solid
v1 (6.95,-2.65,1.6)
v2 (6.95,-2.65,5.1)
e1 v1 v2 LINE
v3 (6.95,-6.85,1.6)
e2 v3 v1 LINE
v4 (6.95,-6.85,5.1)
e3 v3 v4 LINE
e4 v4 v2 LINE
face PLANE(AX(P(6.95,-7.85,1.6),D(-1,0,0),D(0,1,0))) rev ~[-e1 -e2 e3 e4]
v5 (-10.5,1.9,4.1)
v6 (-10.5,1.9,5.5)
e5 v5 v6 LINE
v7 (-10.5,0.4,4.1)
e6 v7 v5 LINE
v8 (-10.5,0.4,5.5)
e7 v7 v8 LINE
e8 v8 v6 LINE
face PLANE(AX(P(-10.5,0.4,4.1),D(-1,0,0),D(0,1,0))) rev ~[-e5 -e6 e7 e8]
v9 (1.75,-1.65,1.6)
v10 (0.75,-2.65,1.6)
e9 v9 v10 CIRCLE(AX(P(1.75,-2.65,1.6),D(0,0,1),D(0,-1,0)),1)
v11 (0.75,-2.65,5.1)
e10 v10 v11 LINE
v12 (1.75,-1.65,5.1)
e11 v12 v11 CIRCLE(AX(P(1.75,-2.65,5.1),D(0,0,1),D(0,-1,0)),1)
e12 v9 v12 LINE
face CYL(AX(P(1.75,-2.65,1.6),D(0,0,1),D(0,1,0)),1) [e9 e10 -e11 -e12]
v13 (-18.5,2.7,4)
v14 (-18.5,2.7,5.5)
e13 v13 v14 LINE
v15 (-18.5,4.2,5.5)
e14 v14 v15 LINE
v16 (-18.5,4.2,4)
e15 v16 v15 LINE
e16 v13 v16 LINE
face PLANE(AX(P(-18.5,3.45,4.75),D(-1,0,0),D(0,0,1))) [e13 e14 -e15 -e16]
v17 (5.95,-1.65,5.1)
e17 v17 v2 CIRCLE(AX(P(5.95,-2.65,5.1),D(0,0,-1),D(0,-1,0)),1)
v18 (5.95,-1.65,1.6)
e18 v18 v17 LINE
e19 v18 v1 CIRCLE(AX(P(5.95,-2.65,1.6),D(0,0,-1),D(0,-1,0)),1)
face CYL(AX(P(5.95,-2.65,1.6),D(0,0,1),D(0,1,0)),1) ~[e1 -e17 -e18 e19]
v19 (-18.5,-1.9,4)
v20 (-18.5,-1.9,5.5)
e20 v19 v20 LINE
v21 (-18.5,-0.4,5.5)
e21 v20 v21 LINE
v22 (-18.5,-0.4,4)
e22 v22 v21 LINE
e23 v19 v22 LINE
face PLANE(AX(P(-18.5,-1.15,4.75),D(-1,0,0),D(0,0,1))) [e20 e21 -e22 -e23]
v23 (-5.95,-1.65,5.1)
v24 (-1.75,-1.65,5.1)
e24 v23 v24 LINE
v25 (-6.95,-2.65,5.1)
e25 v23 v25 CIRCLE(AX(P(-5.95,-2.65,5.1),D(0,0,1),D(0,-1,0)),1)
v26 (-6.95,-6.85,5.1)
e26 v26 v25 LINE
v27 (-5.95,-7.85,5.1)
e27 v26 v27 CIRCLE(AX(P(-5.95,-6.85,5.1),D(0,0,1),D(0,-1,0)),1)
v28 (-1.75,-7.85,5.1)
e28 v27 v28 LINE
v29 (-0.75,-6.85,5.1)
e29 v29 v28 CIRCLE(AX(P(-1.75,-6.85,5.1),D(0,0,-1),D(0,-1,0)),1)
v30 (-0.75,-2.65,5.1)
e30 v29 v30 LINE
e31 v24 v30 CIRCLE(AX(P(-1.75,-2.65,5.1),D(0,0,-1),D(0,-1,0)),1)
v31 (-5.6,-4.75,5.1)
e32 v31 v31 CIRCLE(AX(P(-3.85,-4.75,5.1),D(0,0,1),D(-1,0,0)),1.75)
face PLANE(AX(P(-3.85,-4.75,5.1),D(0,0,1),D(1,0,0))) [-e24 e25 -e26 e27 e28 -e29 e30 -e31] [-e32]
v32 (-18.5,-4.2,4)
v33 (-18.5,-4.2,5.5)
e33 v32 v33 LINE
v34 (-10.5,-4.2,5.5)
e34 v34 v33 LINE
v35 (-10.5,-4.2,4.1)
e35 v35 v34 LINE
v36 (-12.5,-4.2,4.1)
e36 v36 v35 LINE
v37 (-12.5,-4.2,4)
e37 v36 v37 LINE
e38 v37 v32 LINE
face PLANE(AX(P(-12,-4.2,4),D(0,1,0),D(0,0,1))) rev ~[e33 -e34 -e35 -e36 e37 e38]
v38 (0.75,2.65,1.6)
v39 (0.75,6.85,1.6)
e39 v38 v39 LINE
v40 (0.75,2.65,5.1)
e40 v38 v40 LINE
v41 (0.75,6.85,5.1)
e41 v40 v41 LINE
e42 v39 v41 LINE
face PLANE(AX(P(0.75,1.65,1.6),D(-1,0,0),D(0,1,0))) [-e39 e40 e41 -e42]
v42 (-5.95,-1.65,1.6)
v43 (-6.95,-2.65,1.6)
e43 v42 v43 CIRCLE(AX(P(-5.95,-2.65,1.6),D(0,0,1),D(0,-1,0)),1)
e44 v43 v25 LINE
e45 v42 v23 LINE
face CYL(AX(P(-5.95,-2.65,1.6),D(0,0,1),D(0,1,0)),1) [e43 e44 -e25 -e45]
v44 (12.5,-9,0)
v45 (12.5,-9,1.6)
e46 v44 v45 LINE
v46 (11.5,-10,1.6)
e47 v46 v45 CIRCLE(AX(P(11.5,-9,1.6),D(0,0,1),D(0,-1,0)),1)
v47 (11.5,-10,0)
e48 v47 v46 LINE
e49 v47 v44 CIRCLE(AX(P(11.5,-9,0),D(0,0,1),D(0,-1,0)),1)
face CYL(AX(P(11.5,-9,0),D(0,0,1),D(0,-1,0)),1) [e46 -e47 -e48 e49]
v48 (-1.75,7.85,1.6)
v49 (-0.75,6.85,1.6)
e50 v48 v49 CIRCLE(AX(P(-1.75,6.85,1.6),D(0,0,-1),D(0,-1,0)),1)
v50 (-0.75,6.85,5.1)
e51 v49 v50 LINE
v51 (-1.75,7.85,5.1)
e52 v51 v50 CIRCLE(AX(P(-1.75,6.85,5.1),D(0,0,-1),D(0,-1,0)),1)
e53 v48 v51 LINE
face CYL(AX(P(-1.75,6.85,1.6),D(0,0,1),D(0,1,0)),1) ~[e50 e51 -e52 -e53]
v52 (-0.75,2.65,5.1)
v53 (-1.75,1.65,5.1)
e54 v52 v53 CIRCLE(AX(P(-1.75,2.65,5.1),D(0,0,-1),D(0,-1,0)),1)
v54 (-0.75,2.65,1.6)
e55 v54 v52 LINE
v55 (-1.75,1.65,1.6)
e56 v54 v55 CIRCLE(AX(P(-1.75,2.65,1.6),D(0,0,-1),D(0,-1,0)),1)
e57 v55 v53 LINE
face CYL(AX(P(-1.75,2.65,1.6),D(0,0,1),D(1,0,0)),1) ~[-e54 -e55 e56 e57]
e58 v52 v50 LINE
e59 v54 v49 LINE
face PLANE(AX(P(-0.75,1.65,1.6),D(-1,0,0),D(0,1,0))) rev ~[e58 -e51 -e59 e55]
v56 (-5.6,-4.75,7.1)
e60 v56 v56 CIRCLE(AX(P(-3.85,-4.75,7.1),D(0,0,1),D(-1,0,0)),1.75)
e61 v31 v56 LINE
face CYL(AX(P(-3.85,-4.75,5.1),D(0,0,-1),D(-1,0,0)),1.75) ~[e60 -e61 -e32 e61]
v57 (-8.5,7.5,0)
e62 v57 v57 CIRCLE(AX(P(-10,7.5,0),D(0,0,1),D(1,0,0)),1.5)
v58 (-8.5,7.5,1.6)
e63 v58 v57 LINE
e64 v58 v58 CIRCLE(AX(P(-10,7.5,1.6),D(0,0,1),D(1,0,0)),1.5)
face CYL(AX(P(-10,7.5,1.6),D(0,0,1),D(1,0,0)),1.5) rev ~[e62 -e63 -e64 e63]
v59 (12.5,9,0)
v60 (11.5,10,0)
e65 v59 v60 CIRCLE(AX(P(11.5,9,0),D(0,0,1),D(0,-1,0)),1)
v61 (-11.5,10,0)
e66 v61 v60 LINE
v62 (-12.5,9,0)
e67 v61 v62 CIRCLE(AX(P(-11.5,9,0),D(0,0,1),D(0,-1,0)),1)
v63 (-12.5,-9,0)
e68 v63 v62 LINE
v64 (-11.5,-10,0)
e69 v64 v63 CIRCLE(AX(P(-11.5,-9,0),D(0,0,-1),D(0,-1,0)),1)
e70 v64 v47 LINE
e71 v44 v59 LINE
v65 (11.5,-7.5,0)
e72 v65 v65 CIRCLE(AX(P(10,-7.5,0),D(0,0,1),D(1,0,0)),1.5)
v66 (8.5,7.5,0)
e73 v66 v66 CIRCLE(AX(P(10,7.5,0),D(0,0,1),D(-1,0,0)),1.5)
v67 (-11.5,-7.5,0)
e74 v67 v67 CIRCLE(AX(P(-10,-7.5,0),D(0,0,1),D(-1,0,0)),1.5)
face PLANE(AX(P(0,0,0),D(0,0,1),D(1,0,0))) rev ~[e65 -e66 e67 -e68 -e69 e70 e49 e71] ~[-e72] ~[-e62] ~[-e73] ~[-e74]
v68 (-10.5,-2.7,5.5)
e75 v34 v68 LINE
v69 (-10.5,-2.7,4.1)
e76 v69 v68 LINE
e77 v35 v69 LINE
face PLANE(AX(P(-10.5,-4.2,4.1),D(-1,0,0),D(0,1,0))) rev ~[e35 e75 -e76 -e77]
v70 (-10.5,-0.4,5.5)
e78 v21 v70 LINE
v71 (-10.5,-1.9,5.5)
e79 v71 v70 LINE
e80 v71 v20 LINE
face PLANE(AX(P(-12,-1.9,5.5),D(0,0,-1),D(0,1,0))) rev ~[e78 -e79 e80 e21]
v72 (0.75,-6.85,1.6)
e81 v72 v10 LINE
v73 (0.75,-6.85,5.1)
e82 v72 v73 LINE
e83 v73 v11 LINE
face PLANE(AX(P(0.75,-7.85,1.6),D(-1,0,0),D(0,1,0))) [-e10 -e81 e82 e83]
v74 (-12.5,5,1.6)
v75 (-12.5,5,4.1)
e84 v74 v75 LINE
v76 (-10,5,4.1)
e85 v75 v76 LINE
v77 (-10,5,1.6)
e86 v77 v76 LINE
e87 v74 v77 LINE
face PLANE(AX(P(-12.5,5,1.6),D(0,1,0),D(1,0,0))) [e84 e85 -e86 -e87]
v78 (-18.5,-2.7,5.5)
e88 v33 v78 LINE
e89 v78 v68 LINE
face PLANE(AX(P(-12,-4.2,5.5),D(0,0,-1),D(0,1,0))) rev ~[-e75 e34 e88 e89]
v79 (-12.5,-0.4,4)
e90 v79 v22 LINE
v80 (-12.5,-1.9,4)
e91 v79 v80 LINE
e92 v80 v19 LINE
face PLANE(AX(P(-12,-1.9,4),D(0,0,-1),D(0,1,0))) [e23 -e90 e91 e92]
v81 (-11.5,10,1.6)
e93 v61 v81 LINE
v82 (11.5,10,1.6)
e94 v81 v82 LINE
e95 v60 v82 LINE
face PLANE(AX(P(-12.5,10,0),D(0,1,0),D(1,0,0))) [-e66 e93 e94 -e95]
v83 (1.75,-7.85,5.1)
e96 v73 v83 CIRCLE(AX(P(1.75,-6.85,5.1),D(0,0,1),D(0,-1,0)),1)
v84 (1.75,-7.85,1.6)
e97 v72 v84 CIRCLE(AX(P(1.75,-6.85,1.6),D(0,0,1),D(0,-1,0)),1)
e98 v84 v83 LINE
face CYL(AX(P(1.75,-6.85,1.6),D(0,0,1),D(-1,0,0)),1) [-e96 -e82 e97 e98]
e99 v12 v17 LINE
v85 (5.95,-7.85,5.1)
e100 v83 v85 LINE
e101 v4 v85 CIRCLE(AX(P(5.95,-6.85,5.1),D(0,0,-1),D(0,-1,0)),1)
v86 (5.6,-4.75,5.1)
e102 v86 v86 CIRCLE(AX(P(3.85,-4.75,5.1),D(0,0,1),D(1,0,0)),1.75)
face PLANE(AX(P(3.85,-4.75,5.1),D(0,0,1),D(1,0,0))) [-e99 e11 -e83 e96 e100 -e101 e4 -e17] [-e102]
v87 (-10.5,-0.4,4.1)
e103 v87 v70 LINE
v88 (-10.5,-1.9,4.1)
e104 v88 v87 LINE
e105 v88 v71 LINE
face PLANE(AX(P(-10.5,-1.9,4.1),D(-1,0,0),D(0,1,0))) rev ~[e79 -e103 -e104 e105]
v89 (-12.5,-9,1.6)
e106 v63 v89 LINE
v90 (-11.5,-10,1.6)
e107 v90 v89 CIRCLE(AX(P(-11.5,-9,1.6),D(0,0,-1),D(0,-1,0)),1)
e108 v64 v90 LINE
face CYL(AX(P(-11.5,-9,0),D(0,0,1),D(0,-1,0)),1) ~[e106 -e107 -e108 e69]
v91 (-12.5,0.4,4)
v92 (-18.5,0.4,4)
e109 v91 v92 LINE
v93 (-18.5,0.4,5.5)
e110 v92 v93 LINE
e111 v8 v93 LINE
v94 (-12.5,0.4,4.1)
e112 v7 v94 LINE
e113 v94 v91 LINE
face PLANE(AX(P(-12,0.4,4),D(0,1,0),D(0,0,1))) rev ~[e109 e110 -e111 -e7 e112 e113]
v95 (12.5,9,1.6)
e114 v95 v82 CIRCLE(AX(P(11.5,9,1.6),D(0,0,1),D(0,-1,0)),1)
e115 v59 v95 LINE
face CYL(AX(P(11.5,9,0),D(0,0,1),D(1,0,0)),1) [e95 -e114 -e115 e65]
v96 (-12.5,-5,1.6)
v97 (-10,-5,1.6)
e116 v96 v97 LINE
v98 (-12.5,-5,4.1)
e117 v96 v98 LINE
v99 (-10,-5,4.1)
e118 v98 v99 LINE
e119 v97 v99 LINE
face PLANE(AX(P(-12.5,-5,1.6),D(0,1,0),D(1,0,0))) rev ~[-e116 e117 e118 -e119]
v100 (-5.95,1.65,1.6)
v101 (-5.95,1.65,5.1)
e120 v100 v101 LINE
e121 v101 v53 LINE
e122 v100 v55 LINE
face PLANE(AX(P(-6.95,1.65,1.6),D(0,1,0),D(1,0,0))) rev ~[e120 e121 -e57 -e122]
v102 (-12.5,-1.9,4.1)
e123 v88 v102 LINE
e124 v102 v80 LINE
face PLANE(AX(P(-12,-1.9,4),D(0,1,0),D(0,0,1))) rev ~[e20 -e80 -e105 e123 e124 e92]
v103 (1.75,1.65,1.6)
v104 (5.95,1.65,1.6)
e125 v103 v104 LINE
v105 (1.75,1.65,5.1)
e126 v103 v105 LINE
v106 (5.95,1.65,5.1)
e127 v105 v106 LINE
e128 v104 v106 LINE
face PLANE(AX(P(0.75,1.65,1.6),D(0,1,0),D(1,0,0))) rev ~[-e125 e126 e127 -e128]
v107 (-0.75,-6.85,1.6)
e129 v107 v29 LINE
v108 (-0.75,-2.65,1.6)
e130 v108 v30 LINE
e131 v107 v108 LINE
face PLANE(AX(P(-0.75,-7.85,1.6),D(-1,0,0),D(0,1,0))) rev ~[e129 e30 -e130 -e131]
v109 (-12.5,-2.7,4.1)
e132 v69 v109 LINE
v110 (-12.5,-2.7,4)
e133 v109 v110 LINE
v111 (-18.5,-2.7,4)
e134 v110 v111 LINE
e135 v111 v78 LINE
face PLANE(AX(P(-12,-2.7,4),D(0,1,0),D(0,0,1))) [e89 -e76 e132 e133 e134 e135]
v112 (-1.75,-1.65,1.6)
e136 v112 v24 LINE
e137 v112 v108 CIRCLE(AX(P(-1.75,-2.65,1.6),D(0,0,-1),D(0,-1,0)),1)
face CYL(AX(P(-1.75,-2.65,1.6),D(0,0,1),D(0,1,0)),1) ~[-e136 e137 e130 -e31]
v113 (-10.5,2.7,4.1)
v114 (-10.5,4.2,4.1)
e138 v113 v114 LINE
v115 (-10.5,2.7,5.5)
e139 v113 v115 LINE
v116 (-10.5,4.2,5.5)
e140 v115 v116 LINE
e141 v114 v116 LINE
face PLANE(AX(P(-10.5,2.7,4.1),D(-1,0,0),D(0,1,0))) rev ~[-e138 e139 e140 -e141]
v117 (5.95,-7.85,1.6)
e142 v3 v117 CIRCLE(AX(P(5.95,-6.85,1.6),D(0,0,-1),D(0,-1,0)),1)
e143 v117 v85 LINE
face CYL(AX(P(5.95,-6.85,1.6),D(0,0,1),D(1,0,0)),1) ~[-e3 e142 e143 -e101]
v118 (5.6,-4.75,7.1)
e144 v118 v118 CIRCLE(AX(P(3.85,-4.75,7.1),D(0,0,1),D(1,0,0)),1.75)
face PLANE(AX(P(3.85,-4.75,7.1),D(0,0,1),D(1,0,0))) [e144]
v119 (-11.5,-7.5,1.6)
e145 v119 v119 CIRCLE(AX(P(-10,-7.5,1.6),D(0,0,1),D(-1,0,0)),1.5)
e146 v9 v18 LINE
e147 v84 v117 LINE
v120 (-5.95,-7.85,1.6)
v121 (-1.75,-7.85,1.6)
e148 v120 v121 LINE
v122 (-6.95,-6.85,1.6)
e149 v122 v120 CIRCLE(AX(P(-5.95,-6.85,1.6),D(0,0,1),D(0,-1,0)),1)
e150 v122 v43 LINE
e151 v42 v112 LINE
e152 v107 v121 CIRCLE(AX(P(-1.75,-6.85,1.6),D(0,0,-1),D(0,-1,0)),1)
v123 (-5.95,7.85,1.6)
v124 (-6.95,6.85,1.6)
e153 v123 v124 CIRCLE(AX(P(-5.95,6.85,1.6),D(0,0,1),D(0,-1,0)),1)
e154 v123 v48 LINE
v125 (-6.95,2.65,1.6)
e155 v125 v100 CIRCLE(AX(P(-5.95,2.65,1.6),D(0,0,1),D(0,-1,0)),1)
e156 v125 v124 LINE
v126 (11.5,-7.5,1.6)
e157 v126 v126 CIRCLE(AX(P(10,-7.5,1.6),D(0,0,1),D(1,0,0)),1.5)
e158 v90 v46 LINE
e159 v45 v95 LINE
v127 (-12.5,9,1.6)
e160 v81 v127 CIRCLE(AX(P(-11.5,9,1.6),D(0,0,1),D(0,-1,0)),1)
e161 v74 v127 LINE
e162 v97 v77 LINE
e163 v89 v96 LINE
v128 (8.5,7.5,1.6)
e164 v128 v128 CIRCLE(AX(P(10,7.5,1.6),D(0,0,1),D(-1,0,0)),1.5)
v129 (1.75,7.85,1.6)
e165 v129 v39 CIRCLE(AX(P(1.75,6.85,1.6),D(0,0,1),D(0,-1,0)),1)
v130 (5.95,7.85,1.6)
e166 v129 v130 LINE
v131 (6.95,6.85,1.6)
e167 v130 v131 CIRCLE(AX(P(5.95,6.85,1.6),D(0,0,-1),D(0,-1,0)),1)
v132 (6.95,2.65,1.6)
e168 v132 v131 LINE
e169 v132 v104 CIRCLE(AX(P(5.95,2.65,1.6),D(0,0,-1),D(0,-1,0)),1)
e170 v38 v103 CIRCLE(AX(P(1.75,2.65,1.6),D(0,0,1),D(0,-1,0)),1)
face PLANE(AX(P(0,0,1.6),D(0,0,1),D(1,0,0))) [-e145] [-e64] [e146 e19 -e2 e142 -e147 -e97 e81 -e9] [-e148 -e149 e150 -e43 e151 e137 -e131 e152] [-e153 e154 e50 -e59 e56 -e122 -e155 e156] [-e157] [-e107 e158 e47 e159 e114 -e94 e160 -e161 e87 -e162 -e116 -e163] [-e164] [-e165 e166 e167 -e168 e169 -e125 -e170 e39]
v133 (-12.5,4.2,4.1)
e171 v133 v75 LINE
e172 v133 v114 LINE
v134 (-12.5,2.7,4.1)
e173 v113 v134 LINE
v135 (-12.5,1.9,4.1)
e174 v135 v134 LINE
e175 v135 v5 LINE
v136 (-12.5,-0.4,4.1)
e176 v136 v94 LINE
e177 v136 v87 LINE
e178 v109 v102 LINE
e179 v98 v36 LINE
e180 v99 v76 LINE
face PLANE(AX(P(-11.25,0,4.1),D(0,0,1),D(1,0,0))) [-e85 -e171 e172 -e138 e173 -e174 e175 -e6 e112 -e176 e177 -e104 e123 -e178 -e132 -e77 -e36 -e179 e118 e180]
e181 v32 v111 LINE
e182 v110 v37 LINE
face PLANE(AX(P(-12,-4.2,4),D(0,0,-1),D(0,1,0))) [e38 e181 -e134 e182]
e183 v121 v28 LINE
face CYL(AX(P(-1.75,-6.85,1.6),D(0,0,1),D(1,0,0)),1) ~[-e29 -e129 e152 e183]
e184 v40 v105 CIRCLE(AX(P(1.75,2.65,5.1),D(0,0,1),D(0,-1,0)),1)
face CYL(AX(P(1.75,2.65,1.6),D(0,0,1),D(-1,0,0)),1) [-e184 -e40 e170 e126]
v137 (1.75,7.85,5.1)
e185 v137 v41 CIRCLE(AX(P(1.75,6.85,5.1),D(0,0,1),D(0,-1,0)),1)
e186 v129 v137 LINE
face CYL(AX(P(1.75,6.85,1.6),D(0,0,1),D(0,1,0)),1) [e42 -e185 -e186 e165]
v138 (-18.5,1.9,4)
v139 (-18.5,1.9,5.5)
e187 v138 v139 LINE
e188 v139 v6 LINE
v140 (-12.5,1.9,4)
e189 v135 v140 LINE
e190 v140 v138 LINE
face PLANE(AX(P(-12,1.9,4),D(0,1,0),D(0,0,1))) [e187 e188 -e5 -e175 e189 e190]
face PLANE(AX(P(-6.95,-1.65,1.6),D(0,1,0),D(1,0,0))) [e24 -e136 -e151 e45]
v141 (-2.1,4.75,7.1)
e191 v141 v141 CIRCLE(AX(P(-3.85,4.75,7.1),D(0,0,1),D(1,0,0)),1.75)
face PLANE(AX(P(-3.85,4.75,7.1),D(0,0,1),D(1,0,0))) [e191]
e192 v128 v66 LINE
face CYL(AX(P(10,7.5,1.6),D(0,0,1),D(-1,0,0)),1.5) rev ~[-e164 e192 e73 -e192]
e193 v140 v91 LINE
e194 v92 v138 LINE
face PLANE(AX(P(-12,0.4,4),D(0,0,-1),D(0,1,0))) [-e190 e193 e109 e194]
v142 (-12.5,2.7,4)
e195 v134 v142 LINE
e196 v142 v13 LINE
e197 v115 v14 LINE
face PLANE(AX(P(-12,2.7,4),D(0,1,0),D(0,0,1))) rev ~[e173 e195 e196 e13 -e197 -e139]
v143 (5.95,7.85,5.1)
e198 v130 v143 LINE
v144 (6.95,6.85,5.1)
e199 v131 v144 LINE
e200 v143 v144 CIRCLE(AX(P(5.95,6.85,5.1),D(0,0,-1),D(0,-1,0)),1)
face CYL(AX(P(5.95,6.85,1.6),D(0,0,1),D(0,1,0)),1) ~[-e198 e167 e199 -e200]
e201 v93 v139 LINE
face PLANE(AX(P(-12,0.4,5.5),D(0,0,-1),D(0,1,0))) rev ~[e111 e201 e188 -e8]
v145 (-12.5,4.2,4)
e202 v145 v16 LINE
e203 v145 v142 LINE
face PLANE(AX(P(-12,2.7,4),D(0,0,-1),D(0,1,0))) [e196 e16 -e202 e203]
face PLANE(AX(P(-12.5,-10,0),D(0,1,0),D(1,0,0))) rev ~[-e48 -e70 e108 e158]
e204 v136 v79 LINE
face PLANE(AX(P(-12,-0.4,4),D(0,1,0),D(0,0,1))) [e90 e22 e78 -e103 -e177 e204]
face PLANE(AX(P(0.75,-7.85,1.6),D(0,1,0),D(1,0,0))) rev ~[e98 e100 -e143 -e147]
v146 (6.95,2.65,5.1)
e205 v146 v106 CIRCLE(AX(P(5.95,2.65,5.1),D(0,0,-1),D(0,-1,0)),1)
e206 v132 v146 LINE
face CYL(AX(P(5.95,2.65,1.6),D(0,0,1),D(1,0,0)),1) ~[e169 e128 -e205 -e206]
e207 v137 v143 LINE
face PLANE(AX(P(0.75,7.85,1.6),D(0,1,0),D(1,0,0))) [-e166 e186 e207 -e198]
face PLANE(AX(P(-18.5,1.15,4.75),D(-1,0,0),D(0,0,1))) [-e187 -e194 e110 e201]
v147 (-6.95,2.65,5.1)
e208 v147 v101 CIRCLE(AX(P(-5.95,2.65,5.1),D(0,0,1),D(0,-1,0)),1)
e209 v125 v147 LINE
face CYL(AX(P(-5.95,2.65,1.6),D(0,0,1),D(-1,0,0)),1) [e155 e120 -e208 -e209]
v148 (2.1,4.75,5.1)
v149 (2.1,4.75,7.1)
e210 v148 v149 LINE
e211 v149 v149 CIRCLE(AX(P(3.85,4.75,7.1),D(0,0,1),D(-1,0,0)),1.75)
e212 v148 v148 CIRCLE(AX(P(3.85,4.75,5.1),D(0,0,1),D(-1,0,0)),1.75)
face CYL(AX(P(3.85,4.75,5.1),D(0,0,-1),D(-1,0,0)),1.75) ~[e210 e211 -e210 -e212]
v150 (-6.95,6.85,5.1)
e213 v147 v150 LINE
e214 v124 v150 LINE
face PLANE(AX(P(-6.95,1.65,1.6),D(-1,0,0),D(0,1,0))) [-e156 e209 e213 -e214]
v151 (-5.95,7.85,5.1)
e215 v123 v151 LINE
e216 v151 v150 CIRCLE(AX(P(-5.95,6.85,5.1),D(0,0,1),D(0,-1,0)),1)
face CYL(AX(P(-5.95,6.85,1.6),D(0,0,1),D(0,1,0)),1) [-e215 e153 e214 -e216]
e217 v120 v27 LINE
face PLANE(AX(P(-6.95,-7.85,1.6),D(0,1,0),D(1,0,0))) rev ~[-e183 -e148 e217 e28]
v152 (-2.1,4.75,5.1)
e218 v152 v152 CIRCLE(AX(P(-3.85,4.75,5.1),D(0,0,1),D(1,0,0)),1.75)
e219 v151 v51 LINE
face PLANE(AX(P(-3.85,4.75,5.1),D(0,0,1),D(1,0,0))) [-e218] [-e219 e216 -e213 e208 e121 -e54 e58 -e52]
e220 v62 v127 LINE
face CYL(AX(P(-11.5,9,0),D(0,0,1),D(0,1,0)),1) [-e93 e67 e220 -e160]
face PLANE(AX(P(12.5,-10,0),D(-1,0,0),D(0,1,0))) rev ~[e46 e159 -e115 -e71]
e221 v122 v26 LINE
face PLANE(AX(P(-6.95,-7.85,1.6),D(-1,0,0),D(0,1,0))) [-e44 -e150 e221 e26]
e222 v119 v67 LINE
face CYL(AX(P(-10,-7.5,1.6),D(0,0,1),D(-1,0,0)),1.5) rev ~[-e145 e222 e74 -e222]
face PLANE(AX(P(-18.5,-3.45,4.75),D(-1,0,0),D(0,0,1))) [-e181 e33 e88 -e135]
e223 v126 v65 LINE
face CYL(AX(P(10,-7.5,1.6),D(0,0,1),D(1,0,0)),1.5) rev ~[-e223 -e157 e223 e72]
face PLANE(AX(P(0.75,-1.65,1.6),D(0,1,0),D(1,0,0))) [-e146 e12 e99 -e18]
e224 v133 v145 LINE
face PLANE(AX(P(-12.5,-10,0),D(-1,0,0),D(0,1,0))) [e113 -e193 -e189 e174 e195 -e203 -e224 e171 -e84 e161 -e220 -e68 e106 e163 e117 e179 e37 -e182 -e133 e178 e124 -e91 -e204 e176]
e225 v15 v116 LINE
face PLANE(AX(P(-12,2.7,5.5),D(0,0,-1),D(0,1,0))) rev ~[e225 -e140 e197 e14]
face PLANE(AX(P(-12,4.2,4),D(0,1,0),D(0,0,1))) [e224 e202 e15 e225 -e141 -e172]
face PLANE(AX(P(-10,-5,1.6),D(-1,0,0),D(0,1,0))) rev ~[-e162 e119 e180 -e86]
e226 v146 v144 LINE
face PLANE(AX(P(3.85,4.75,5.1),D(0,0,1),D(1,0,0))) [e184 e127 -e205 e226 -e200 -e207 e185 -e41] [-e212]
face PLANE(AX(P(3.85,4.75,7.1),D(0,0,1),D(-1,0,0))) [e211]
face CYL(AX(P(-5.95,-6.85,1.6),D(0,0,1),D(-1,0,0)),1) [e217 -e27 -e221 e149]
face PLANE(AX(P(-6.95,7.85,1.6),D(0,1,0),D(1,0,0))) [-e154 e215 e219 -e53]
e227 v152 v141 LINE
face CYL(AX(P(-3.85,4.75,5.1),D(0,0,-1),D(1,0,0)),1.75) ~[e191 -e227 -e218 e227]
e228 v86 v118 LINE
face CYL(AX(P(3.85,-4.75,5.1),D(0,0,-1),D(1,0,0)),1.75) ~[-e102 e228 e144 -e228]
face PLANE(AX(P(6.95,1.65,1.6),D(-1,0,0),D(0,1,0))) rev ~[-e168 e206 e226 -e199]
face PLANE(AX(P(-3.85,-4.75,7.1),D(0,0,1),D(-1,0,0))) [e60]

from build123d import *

# Parameters (mm, degrees)
SKETCH1_W           = 25
SKETCH1_H           = 20
BOSS_EXTRUDE1_DEPTH = 1.6
SKETCH2_W           = 6.2
SKETCH2_H           = 6.2
BOSS_EXTRUDE2_DEPTH = 3.5
SKETCH3_R           = 1.75
BOSS_EXTRUDE3_DEPTH = 2
SKETCH4_R           = 1.5
CUT_EXTRUDE1_DEPTH  = 17.92631088
SKETCH5_W           = 2.5
SKETCH5_H           = 10
BOSS_EXTRUDE4_DEPTH = 2.5
SKETCH6_W           = 1.5
SKETCH6_H           = 1.5
BOSS_EXTRUDE5_DEPTH = 1.4
SKETCH7_W           = 1.5
SKETCH7_H           = 1.5
BOSS_EXTRUDE6_DEPTH = 6.5
FILLET1_R           = 1


with BuildPart() as part:
    # Sketch1 → Boss-Extrude1 (new body)
    with BuildSketch(Plane.XY):
        Rectangle(SKETCH1_W, SKETCH1_H)
    extrude(amount=BOSS_EXTRUDE1_DEPTH)

    # Sketch2 → Boss-Extrude2 (add)
    with BuildSketch(Plane.XY.offset(1.6)):
        with Locations((3.85, 4.75)):
            Rectangle(SKETCH2_W, SKETCH2_H)
        with Locations((-3.85, 4.75)):
            Rectangle(SKETCH2_W, SKETCH2_H)
        with Locations((3.85, -4.75)):
            Rectangle(SKETCH2_W, SKETCH2_H)
        with Locations((-3.85, -4.75)):
            Rectangle(SKETCH2_W, SKETCH2_H)
    extrude(amount=BOSS_EXTRUDE2_DEPTH)

    # Sketch3 → Boss-Extrude3 (add)
    with BuildSketch(Plane.XY.offset(5.1)):
        with Locations((-3.85, 4.75)):
            Circle(SKETCH3_R)
        with Locations(Location((3.85, 4.75, 0), (0, 0, 180))):
            Circle(SKETCH3_R)
        with Locations((3.85, -4.75)):
            Circle(SKETCH3_R)
        with Locations(Location((-3.85, -4.75, 0), (0, 0, 180))):
            Circle(SKETCH3_R)
    extrude(amount=BOSS_EXTRUDE3_DEPTH)

    # Sketch4 → Cut-Extrude1 (cut, through all)
    with BuildSketch(Plane.XY.offset(1.6)):
        with Locations((-10, 7.5)):
            Circle(SKETCH4_R)
        with Locations(Location((10, 7.5, 0), (0, 0, 180))):
            Circle(SKETCH4_R)
        with Locations((10, -7.5)):
            Circle(SKETCH4_R)
        with Locations(Location((-10, -7.5, 0), (0, 0, 180))):
            Circle(SKETCH4_R)
    extrude(amount=-CUT_EXTRUDE1_DEPTH, mode=Mode.SUBTRACT)

    # Sketch5 → Boss-Extrude4 (add)
    with BuildSketch(Plane.XY.offset(1.6)):
        with Locations((-11.25, 0)):
            Rectangle(SKETCH5_W, SKETCH5_H)
    extrude(amount=BOSS_EXTRUDE4_DEPTH)

    # Sketch6 → Boss-Extrude5 (add)
    with BuildSketch(Plane.XY.offset(4.1)):
        with Locations((-11.25, -3.45)):
            Rectangle(SKETCH6_W, SKETCH6_H)
        with Locations((-11.25, -1.15)):
            Rectangle(SKETCH6_W, SKETCH6_H)
        with Locations((-11.25, 1.15)):
            Rectangle(SKETCH6_W, SKETCH6_H)
        with Locations((-11.25, 3.45)):
            Rectangle(SKETCH6_W, SKETCH6_H)
    extrude(amount=BOSS_EXTRUDE5_DEPTH)

    # Sketch7 → Boss-Extrude6 (add)
    with BuildSketch(Plane.ZY.offset(12)):
        with Locations((4.75, -3.45)):
            Rectangle(SKETCH7_W, SKETCH7_H)
        with Locations((4.75, -1.15)):
            Rectangle(SKETCH7_W, SKETCH7_H)
        with Locations((4.75, 1.15)):
            Rectangle(SKETCH7_W, SKETCH7_H)
        with Locations((4.75, 3.45)):
            Rectangle(SKETCH7_W, SKETCH7_H)
    extrude(amount=BOSS_EXTRUDE6_DEPTH)

    # Fillet1
    fillet1_edges = [part.edges().sort_by_distance(p)[0] for p in [
        (-6.95, -1.65, 3.35),
        (-6.95, -7.85, 3.35),
        (-0.75, -7.85, 3.35),
        (-0.75, -1.65, 3.35),
        (6.95, -1.65, 3.35),
        (0.75, -1.65, 3.35),
        (0.75, -7.85, 3.35),
        (6.95, -7.85, 3.35),
        (6.95, 1.65, 3.35),
        (6.95, 7.85, 3.35),
        (0.75, 7.85, 3.35),
        (0.75, 1.65, 3.35),
        (-0.75, 1.65, 3.35),
        (-0.75, 7.85, 3.35),
        (-6.95, 7.85, 3.35),
        (-6.95, 1.65, 3.35),
        (12.5, -10, 0.8),
        (-12.5, -10, 0.8),
        (-12.5, 10, 0.8),
        (12.5, 10, 0.8),
    ]]
    fillet(fillet1_edges, radius=FILLET1_R)


solid = part.part
